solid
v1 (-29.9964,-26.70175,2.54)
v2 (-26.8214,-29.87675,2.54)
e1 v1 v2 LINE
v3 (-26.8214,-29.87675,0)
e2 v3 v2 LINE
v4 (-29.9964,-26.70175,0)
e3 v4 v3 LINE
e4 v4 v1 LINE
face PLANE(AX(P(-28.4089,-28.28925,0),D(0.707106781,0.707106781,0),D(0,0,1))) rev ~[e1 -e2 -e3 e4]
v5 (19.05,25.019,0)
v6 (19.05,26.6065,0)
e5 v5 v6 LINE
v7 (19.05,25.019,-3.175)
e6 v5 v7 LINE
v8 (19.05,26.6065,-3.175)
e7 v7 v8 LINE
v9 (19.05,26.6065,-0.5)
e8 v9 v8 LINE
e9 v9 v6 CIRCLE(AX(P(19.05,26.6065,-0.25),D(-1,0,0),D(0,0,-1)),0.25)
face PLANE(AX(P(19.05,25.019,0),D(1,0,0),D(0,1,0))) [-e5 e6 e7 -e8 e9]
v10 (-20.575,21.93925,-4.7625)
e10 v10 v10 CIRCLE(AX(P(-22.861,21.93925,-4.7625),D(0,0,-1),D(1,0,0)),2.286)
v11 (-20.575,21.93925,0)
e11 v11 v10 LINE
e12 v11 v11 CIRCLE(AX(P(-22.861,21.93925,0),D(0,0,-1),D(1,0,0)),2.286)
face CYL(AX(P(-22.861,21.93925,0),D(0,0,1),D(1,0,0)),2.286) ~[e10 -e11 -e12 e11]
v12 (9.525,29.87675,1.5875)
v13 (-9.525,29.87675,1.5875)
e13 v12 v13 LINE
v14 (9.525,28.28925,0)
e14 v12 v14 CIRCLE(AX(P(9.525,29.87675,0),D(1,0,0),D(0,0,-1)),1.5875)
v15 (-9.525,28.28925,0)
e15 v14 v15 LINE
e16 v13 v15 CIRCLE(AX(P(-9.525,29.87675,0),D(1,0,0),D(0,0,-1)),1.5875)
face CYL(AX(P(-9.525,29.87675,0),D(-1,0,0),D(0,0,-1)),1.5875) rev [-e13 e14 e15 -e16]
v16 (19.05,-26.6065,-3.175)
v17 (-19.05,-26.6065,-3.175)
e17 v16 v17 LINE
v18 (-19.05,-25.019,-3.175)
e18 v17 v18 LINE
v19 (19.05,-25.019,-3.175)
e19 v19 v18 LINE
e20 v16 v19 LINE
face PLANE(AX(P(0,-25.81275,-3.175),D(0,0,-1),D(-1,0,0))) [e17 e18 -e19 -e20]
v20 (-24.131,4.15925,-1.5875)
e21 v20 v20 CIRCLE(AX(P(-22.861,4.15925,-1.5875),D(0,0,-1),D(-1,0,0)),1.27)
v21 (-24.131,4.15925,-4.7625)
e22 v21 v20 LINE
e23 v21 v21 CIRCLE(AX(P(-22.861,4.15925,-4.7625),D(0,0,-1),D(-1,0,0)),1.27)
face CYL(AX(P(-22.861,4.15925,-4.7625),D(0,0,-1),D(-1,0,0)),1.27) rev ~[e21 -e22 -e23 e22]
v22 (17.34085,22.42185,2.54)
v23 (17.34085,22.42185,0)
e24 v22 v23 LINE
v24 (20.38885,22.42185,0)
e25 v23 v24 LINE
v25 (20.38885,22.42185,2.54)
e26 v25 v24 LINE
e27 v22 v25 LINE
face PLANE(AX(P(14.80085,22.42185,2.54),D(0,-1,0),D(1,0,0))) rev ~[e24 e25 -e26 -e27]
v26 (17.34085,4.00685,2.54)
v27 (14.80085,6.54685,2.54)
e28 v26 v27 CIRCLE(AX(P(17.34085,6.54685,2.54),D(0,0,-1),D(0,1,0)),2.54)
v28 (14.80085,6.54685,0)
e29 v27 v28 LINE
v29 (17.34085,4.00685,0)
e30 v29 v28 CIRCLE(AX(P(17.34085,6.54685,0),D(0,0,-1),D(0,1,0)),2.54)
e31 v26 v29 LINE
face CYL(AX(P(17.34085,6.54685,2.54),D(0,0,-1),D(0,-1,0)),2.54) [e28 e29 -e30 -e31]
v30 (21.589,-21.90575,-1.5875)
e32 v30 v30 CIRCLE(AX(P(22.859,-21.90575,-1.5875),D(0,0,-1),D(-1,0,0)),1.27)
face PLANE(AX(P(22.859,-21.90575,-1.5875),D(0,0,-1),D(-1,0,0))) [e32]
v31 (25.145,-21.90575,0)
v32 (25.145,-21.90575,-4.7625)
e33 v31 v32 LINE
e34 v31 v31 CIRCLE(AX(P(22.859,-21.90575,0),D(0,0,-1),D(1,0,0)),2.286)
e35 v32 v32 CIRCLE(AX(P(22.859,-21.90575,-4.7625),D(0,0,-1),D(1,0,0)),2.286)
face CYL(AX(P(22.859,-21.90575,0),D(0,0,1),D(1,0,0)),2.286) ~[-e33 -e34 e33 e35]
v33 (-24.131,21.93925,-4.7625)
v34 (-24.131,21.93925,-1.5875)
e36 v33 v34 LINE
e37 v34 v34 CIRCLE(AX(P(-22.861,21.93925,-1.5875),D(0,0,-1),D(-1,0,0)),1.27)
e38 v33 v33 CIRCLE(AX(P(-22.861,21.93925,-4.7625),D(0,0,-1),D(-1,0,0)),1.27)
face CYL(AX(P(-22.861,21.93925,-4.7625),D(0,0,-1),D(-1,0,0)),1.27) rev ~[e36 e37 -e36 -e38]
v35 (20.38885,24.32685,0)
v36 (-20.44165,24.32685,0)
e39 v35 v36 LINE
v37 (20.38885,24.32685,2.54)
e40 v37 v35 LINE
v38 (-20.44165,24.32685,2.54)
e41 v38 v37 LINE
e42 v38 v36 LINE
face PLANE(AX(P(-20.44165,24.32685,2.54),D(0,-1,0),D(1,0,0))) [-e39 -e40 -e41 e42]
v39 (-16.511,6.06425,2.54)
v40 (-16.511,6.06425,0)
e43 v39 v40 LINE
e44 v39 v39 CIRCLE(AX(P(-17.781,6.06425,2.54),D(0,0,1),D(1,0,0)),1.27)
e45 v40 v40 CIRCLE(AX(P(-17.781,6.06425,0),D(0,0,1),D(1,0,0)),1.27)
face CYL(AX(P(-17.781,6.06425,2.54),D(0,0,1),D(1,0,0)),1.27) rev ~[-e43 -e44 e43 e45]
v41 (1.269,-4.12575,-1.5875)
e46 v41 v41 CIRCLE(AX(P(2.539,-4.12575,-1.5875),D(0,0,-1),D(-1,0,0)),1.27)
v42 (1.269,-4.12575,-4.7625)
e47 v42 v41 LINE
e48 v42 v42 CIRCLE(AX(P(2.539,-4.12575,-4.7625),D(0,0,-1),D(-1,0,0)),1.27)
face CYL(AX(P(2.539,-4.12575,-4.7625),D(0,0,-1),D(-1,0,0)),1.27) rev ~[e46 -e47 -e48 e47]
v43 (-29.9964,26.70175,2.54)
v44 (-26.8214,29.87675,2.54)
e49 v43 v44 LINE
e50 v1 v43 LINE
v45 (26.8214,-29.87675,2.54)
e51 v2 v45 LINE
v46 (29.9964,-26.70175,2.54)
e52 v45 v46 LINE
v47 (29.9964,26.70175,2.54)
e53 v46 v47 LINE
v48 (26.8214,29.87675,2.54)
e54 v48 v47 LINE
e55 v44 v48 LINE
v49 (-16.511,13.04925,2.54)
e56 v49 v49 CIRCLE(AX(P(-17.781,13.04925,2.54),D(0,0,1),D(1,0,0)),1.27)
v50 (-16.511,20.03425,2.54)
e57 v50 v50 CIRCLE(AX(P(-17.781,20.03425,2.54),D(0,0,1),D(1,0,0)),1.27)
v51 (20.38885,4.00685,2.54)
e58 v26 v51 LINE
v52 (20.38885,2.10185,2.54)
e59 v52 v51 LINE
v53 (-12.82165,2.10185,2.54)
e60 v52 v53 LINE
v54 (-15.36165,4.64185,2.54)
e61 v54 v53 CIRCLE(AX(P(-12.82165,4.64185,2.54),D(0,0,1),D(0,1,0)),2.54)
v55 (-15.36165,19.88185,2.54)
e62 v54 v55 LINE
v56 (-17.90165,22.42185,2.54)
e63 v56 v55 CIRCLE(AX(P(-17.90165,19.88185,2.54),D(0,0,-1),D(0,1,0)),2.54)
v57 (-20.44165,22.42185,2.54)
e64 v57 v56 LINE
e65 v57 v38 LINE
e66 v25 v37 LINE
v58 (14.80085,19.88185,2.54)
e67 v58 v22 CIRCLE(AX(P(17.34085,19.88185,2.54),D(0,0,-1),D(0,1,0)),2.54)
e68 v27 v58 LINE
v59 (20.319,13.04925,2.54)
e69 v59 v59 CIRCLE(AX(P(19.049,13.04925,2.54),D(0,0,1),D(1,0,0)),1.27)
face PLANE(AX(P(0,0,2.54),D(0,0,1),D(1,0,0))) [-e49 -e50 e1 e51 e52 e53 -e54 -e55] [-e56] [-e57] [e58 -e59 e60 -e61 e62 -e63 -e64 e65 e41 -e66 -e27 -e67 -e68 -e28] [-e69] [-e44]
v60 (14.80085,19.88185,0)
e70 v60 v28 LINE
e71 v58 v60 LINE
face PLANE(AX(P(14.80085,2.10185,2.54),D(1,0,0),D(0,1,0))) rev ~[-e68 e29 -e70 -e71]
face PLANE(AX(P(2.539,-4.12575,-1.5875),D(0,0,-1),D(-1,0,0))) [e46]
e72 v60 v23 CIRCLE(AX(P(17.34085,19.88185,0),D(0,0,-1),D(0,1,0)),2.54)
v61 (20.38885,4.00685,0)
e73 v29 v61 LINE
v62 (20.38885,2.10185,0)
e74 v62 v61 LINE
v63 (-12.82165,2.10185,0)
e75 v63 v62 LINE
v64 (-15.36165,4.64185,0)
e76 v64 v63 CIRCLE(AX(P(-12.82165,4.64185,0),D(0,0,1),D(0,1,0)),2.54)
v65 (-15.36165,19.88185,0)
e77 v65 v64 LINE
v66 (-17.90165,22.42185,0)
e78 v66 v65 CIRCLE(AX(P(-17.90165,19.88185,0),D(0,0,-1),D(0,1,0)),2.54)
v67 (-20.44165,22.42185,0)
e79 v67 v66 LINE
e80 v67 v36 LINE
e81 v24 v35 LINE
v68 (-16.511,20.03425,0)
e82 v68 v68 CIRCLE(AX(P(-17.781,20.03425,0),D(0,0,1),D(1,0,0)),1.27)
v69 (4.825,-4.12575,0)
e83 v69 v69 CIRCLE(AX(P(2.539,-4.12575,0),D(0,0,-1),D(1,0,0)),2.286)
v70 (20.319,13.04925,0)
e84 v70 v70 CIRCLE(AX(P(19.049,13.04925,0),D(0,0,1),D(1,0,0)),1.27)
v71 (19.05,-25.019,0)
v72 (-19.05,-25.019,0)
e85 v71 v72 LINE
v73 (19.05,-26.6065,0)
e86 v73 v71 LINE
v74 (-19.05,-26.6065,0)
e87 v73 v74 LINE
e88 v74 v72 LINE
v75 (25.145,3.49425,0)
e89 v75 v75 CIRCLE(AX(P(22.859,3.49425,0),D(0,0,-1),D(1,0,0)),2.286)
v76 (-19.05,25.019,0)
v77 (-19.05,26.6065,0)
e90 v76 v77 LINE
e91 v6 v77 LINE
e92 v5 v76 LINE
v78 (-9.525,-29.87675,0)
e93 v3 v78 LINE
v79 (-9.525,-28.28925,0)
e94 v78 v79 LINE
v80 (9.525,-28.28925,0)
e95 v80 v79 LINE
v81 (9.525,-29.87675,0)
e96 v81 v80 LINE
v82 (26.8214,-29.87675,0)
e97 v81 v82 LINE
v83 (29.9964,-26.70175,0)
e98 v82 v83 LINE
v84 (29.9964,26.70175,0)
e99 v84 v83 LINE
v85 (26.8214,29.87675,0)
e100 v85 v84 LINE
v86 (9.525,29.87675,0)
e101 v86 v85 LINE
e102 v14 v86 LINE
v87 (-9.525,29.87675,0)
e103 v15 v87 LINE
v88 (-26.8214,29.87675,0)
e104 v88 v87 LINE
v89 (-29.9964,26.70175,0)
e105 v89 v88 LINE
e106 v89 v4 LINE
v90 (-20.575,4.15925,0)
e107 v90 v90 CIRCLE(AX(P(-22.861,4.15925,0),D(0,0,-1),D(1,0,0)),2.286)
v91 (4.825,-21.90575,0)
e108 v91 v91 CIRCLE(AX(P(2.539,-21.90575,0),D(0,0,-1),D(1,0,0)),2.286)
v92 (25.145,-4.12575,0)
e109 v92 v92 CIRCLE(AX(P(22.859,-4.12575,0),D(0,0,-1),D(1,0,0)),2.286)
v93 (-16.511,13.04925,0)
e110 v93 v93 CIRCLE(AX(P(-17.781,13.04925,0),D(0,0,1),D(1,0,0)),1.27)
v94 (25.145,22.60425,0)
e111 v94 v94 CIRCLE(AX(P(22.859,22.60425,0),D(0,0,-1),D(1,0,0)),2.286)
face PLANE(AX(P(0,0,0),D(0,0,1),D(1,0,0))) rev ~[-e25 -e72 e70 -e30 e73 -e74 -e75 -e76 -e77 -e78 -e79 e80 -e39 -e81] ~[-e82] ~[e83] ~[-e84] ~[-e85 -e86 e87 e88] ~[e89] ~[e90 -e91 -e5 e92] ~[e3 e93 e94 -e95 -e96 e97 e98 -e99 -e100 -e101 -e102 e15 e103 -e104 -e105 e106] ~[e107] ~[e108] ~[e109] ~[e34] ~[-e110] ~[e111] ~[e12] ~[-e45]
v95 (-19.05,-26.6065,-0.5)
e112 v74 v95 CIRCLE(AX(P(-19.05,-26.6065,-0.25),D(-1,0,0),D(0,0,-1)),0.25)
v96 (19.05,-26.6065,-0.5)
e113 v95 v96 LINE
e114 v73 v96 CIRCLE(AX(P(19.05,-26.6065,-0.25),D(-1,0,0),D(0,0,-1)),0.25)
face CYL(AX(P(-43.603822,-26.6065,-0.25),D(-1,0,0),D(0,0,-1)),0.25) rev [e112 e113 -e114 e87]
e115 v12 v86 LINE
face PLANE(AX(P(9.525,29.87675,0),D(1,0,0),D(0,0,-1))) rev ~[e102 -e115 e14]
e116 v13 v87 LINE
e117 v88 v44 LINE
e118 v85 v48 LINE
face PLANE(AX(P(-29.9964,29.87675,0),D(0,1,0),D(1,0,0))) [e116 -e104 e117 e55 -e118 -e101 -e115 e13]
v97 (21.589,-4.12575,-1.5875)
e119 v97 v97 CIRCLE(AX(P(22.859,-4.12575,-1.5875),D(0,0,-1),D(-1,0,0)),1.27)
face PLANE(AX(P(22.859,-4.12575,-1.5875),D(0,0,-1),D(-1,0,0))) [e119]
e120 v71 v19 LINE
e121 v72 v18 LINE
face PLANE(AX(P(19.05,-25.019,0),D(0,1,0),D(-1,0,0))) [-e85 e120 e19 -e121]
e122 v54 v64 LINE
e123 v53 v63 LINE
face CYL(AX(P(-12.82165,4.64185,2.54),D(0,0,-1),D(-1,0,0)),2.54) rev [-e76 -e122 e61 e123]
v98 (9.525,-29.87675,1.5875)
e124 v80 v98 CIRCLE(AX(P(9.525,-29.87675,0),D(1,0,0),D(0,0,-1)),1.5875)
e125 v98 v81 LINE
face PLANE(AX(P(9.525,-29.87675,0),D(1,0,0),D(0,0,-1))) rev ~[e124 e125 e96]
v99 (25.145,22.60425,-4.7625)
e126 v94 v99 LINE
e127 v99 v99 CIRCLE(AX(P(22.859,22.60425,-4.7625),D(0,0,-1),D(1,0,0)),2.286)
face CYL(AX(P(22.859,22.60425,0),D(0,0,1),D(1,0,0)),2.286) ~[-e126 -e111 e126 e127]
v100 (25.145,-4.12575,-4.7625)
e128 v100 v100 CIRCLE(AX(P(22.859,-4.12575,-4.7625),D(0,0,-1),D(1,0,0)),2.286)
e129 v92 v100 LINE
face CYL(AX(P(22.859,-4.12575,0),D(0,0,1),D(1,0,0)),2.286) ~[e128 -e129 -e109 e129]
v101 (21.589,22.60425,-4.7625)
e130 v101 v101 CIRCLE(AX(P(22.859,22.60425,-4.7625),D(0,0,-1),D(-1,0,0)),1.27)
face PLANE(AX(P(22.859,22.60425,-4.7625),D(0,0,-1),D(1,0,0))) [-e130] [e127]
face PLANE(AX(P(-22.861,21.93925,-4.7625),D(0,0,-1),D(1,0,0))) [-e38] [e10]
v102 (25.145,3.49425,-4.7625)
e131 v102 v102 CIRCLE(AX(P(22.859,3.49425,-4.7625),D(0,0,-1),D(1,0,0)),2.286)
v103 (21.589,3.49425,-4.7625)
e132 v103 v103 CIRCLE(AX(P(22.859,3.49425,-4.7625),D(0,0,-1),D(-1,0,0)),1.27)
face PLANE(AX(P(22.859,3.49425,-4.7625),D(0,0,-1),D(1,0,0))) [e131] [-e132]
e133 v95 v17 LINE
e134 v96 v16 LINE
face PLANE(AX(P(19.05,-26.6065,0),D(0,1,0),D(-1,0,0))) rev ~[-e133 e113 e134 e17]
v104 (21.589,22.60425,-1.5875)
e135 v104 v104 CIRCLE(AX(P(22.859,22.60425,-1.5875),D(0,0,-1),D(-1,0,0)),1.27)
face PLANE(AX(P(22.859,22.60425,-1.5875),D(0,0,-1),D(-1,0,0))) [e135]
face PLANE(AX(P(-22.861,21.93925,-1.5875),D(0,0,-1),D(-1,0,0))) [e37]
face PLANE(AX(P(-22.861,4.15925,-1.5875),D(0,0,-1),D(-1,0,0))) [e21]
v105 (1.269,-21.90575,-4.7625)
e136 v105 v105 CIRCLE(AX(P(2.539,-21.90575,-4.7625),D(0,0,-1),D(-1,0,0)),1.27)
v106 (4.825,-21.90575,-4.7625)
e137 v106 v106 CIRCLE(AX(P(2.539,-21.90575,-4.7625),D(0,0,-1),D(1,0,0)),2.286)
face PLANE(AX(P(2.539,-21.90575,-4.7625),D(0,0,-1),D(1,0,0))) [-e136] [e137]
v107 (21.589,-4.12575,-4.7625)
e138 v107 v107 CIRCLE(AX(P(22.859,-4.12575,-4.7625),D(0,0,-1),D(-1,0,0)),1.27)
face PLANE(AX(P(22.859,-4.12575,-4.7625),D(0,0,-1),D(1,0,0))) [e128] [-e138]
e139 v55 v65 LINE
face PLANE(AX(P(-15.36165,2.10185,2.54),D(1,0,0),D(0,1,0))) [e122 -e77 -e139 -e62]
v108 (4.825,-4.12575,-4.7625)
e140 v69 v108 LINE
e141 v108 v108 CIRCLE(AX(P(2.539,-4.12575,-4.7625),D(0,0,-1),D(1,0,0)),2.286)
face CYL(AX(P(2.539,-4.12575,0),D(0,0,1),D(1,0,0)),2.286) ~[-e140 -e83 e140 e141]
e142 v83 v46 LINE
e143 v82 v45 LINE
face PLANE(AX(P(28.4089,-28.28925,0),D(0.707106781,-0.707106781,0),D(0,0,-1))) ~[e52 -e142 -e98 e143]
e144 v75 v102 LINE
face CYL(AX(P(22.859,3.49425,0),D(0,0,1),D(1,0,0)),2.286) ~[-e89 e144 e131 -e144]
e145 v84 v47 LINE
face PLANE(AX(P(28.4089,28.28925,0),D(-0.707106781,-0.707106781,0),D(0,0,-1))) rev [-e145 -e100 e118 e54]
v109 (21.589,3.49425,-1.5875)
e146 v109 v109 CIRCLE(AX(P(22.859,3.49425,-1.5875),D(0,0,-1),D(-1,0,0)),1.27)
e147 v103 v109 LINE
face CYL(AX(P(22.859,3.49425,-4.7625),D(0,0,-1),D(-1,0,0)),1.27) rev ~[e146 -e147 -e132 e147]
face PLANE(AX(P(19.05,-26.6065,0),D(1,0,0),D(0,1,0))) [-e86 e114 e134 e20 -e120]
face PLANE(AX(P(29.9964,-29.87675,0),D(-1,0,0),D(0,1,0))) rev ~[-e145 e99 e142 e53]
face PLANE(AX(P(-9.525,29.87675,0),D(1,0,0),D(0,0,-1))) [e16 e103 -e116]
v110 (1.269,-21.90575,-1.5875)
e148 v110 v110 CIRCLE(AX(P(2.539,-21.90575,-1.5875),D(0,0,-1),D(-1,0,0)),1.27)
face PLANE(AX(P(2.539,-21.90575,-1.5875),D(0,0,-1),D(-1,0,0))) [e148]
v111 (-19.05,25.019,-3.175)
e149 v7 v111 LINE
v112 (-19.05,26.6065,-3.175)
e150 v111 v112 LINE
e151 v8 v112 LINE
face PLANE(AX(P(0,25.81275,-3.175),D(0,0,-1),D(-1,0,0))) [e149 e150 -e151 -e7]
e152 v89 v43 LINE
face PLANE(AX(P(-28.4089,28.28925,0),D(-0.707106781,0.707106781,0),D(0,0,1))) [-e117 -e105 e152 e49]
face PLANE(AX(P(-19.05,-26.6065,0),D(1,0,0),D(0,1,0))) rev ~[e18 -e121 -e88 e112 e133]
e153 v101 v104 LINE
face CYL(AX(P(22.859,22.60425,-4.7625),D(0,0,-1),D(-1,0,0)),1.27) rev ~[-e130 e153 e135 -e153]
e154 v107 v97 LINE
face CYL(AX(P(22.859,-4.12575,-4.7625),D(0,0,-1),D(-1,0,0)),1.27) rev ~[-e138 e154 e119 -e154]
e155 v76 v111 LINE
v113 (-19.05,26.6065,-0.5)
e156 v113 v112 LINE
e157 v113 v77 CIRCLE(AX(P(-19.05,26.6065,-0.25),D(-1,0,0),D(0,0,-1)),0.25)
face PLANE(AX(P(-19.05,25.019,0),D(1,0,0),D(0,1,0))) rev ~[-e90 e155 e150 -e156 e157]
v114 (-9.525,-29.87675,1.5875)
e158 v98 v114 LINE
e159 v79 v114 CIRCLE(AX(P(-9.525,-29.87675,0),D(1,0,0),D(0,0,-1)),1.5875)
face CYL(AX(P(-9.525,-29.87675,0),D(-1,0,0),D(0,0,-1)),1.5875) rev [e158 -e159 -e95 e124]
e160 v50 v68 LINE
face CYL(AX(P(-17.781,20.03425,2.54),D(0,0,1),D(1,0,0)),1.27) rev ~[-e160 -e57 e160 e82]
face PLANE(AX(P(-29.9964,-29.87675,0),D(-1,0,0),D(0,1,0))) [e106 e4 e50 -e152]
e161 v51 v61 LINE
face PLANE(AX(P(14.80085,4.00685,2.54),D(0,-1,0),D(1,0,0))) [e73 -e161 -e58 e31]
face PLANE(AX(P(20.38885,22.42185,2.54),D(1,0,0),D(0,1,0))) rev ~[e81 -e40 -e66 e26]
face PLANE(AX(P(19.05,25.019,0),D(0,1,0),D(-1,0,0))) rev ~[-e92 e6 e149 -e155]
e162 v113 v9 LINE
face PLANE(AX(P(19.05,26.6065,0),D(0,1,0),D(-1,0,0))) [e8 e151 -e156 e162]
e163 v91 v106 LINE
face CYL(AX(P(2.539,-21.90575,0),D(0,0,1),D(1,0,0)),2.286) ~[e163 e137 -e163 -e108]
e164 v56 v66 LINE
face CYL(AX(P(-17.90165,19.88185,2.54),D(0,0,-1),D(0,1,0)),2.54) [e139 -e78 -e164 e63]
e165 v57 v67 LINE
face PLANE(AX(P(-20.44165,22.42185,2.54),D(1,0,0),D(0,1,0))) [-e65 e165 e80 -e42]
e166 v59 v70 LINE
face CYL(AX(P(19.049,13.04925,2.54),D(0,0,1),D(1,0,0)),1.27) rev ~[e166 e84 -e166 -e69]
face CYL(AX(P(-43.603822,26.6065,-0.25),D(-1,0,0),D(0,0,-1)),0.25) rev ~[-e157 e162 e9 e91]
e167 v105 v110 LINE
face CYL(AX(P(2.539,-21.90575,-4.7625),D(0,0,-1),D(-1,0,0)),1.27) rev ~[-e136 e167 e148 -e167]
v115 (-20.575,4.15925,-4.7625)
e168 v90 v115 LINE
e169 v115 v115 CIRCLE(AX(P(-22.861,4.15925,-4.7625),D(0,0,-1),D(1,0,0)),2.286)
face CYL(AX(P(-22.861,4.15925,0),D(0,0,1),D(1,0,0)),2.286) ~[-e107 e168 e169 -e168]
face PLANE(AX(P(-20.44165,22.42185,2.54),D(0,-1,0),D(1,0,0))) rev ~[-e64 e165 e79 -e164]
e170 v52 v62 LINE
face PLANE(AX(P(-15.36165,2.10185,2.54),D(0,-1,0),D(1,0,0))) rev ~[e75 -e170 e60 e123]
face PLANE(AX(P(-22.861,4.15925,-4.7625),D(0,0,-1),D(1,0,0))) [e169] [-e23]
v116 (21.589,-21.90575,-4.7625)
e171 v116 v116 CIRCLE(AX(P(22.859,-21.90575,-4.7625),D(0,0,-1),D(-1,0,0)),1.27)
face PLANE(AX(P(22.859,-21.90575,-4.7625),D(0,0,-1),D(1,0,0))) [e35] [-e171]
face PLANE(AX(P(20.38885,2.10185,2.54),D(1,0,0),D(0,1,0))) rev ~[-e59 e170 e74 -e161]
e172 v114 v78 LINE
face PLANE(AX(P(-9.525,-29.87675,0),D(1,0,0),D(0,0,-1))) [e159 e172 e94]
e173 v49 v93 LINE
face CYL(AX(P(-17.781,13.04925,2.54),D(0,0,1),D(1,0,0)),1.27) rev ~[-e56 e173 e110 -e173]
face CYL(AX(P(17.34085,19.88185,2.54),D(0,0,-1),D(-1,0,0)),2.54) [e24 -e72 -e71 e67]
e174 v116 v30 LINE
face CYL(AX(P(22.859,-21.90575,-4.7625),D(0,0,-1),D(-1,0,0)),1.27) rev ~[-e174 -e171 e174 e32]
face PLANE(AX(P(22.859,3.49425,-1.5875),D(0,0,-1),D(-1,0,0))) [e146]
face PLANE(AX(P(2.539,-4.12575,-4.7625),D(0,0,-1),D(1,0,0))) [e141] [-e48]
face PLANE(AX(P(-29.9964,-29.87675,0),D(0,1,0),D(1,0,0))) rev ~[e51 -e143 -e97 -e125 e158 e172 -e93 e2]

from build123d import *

# Parameters (mm, degrees)
SKETCH1_W               = 59.992800004
SKETCH1_H               = 59.7535
BOSS_EXTRUDE1_DEPTH     = 2.54
SKETCH2_R               = 2.286000002
BOSS_EXTRUDE2_DEPTH     = 4.7625
SKETCH3_R               = 1.270000002
CUT_EXTRUDE1_DEPTH      = 3.175
CUT_EXTRUDE2_REACH      = 44.962
SKETCH4_W               = 30.1625
SKETCH4_H               = 22.225
CUT_EXTRUDE3_REACH      = 44.962
SKETCH5_R               = 1.269999998
SKETCH6_W               = 38.1
SKETCH6_H               = 1.5875
BOSS_EXTRUDE3_DEPTH     = 3.175
CHAMFER1_SIZE           = 3.175
CUT_EXTRUDE4_DEPTH      = 43.603821541
CUT_EXTRUDE4_DEPTH_BACK = 43.603821541
CUT_EXTRUDE5_DEPTH      = 9.525
CUT_EXTRUDE5_DEPTH_BACK = 9.525
SKETCH8_R               = 1.5875
SKETCH9_W               = 5.588
SKETCH9_H               = 1.905
SKETCH9_W_2             = 5.08
CUT_EXTRUDE6_DEPTH      = 43.96196818
FILLET1_R               = 2.54


with BuildPart() as part:
    # Sketch1 → Boss-Extrude1 (new body)
    with BuildSketch(Plane.XY):
        Rectangle(SKETCH1_W, SKETCH1_H)
    extrude(amount=BOSS_EXTRUDE1_DEPTH)

    # Sketch2 → Boss-Extrude2 (add)
    with BuildSketch(Plane(origin=(0, 0, 0), x_dir=(-1, 0, 0), z_dir=(0, 0, -1))):
        with Locations(Location((-22.859000002, 22.60425, 0), (0, 0, 180))):
            Circle(SKETCH2_R)
        with Locations(Location((22.860999998, 21.93925, 0), (0, 0, 180))):
            Circle(SKETCH2_R)
        with Locations(Location((22.860999998, 4.15925, 0), (0, 0, 180))):
            Circle(SKETCH2_R)
        with Locations(Location((-22.859000002, 3.49425, 0), (0, 0, 180))):
            Circle(SKETCH2_R)
        with Locations(Location((-22.859000002, -4.12575, 0), (0, 0, 180))):
            Circle(SKETCH2_R)
        with Locations(Location((-2.539000002, -4.12575, 0), (0, 0, 180))):
            Circle(SKETCH2_R)
        with Locations(Location((-22.859000002, -21.90575, 0), (0, 0, 180))):
            Circle(SKETCH2_R)
        with Locations(Location((-2.539000002, -21.90575, 0), (0, 0, 180))):
            Circle(SKETCH2_R)
    extrude(amount=BOSS_EXTRUDE2_DEPTH)

    # Sketch3 → Cut-Extrude1 (cut)
    with BuildSketch(Plane(origin=(0, 0, -4.7625), x_dir=(-1, 0, 0), z_dir=(0, 0, -1))):
        with Locations((-22.859000002, 22.60425)):
            Circle(SKETCH3_R)
        with Locations((22.860999998, 21.93925)):
            Circle(SKETCH3_R)
        with Locations((22.860999998, 4.15925)):
            Circle(SKETCH3_R)
        with Locations((-2.539000002, -4.12575)):
            Circle(SKETCH3_R)
        with Locations((-22.859000002, 3.49425)):
            Circle(SKETCH3_R)
        with Locations((-22.859000002, -4.12575)):
            Circle(SKETCH3_R)
        with Locations((-22.859000002, -21.90575)):
            Circle(SKETCH3_R)
        with Locations((-2.539000002, -21.90575)):
            Circle(SKETCH3_R)
    extrude(amount=-CUT_EXTRUDE1_DEPTH, mode=Mode.SUBTRACT)

    # Sketch4 → Cut-Extrude2 (cut, up to next)
    with BuildSketch(Plane.XY.offset(2.54), mode=Mode.PRIVATE) as cut_extrude2_sk1:
        with Locations((-0.280399998, 13.21435)):
            Rectangle(SKETCH4_W, SKETCH4_H)
    cut_extrude2_tool1 = extrude(cut_extrude2_sk1.sketch, amount=-CUT_EXTRUDE2_REACH, mode=Mode.PRIVATE) & part.part
    add(cut_extrude2_tool1.solids().sort_by_distance((-0.2804, 13.21435, 2.54))[0], mode=Mode.SUBTRACT)

    # Sketch5 → Cut-Extrude3 (cut, up to next)
    with BuildSketch(Plane.XY.offset(2.54), mode=Mode.PRIVATE) as cut_extrude3_sk1:
        with Locations((-17.780999998, 20.03425)):
            Circle(SKETCH5_R)
    cut_extrude3_tool1 = extrude(cut_extrude3_sk1.sketch, amount=-CUT_EXTRUDE3_REACH, mode=Mode.PRIVATE) & part.part
    # Sketch5 → Cut-Extrude3 (cut, up to next)
    with BuildSketch(Plane.XY.offset(2.54), mode=Mode.PRIVATE) as cut_extrude3_sk2:
        with Locations((-17.780999998, 13.04925)):
            Circle(SKETCH5_R)
    cut_extrude3_tool2 = extrude(cut_extrude3_sk2.sketch, amount=-CUT_EXTRUDE3_REACH, mode=Mode.PRIVATE) & part.part
    # Sketch5 → Cut-Extrude3 (cut, up to next)
    with BuildSketch(Plane.XY.offset(2.54), mode=Mode.PRIVATE) as cut_extrude3_sk3:
        with Locations((-17.780999998, 6.06425)):
            Circle(SKETCH5_R)
    cut_extrude3_tool3 = extrude(cut_extrude3_sk3.sketch, amount=-CUT_EXTRUDE3_REACH, mode=Mode.PRIVATE) & part.part
    # Sketch5 → Cut-Extrude3 (cut, up to next)
    with BuildSketch(Plane.XY.offset(2.54), mode=Mode.PRIVATE) as cut_extrude3_sk4:
        with Locations((19.049000002, 13.04925)):
            Circle(SKETCH5_R)
    cut_extrude3_tool4 = extrude(cut_extrude3_sk4.sketch, amount=-CUT_EXTRUDE3_REACH, mode=Mode.PRIVATE) & part.part
    add(cut_extrude3_tool1.solids().sort_by_distance((-17.781, 20.03425, 2.54))[0], mode=Mode.SUBTRACT)
    add(cut_extrude3_tool2.solids().sort_by_distance((-17.781, 13.04925, 2.54))[0], mode=Mode.SUBTRACT)
    add(cut_extrude3_tool3.solids().sort_by_distance((-17.781, 6.06425, 2.54))[0], mode=Mode.SUBTRACT)
    add(cut_extrude3_tool4.solids().sort_by_distance((19.049, 13.04925, 2.54))[0], mode=Mode.SUBTRACT)

    # Sketch6 → Boss-Extrude3 (add)
    with BuildSketch(Plane(origin=(0, 0, 0), x_dir=(-1, 0, 0), z_dir=(0, 0, -1))):
        with Locations((0, 25.81275)):
            Rectangle(SKETCH6_W, SKETCH6_H)
        with Locations((0, -25.81275)):
            Rectangle(SKETCH6_W, SKETCH6_H)
    extrude(amount=BOSS_EXTRUDE3_DEPTH)

    # Chamfer1
    chamfer1_edges = [part.edges().sort_by_distance(p)[0] for p in [
        (29.996400002, -29.87675, 1.27),
        (-29.996400002, -29.87675, 1.27),
        (-29.996400002, 29.87675, 1.27),
        (29.996400002, 29.87675, 1.27),
    ]]
    chamfer(chamfer1_edges, length=CHAMFER1_SIZE)

    # Sketch7 → Cut-Extrude4 (cut, two sides: drawn at the far end of the back side and taken through both)
    with BuildSketch(Plane(origin=(0, 0, 0), x_dir=(0, 0, -1), z_dir=(1, 0, 0)).offset(-CUT_EXTRUDE4_DEPTH_BACK)):
        with BuildLine():
            Line((0, 26.6065), (0.5, 26.6065))
            ThreePointArc((0.5, 26.6065), (0.25, 26.3565), (0, 26.6065))
        make_face()
        with BuildLine():
            Line((0, -26.6065), (0.5, -26.6065))
            ThreePointArc((0.5, -26.6065), (0.25, -26.3565), (0, -26.6065))
        make_face()
    extrude(amount=CUT_EXTRUDE4_DEPTH + CUT_EXTRUDE4_DEPTH_BACK, mode=Mode.SUBTRACT)

    # Sketch8 → Cut-Extrude5 (cut, two sides: drawn at the far end of the back side and taken through both)
    with BuildSketch(Plane(origin=(0, 0, 0), x_dir=(0, 0, -1), z_dir=(1, 0, 0)).offset(-CUT_EXTRUDE5_DEPTH_BACK)):
        with Locations((0, 29.87675)):
            Circle(SKETCH8_R)
        with Locations((0, -29.87675)):
            Circle(SKETCH8_R)
    extrude(amount=CUT_EXTRUDE5_DEPTH + CUT_EXTRUDE5_DEPTH_BACK, mode=Mode.SUBTRACT)

    # Sketch9 → Cut-Extrude6 (cut, through all)
    with BuildSketch(Plane.XY.offset(2.54)):
        with Locations((17.594850002, 3.05435)):
            Rectangle(SKETCH9_W, SKETCH9_H)
        with Locations((-17.901649998, 23.37435)):
            Rectangle(SKETCH9_W_2, SKETCH9_H)
        with Locations((17.594850002, 23.37435)):
            Rectangle(SKETCH9_W, SKETCH9_H)
    extrude(amount=-CUT_EXTRUDE6_DEPTH, mode=Mode.SUBTRACT)

    # Fillet1
    fillet1_edges = [part.edges().sort_by_distance(p)[0] for p in [
        (14.800850002, 4.00685, 1.27),
        (-15.361649998, 22.42185, 1.27),
        (14.800850002, 22.42185, 1.27),
        (-15.361649998, 2.10185, 1.27),
    ]]
    fillet(fillet1_edges, radius=FILLET1_R)


solid = part.part
